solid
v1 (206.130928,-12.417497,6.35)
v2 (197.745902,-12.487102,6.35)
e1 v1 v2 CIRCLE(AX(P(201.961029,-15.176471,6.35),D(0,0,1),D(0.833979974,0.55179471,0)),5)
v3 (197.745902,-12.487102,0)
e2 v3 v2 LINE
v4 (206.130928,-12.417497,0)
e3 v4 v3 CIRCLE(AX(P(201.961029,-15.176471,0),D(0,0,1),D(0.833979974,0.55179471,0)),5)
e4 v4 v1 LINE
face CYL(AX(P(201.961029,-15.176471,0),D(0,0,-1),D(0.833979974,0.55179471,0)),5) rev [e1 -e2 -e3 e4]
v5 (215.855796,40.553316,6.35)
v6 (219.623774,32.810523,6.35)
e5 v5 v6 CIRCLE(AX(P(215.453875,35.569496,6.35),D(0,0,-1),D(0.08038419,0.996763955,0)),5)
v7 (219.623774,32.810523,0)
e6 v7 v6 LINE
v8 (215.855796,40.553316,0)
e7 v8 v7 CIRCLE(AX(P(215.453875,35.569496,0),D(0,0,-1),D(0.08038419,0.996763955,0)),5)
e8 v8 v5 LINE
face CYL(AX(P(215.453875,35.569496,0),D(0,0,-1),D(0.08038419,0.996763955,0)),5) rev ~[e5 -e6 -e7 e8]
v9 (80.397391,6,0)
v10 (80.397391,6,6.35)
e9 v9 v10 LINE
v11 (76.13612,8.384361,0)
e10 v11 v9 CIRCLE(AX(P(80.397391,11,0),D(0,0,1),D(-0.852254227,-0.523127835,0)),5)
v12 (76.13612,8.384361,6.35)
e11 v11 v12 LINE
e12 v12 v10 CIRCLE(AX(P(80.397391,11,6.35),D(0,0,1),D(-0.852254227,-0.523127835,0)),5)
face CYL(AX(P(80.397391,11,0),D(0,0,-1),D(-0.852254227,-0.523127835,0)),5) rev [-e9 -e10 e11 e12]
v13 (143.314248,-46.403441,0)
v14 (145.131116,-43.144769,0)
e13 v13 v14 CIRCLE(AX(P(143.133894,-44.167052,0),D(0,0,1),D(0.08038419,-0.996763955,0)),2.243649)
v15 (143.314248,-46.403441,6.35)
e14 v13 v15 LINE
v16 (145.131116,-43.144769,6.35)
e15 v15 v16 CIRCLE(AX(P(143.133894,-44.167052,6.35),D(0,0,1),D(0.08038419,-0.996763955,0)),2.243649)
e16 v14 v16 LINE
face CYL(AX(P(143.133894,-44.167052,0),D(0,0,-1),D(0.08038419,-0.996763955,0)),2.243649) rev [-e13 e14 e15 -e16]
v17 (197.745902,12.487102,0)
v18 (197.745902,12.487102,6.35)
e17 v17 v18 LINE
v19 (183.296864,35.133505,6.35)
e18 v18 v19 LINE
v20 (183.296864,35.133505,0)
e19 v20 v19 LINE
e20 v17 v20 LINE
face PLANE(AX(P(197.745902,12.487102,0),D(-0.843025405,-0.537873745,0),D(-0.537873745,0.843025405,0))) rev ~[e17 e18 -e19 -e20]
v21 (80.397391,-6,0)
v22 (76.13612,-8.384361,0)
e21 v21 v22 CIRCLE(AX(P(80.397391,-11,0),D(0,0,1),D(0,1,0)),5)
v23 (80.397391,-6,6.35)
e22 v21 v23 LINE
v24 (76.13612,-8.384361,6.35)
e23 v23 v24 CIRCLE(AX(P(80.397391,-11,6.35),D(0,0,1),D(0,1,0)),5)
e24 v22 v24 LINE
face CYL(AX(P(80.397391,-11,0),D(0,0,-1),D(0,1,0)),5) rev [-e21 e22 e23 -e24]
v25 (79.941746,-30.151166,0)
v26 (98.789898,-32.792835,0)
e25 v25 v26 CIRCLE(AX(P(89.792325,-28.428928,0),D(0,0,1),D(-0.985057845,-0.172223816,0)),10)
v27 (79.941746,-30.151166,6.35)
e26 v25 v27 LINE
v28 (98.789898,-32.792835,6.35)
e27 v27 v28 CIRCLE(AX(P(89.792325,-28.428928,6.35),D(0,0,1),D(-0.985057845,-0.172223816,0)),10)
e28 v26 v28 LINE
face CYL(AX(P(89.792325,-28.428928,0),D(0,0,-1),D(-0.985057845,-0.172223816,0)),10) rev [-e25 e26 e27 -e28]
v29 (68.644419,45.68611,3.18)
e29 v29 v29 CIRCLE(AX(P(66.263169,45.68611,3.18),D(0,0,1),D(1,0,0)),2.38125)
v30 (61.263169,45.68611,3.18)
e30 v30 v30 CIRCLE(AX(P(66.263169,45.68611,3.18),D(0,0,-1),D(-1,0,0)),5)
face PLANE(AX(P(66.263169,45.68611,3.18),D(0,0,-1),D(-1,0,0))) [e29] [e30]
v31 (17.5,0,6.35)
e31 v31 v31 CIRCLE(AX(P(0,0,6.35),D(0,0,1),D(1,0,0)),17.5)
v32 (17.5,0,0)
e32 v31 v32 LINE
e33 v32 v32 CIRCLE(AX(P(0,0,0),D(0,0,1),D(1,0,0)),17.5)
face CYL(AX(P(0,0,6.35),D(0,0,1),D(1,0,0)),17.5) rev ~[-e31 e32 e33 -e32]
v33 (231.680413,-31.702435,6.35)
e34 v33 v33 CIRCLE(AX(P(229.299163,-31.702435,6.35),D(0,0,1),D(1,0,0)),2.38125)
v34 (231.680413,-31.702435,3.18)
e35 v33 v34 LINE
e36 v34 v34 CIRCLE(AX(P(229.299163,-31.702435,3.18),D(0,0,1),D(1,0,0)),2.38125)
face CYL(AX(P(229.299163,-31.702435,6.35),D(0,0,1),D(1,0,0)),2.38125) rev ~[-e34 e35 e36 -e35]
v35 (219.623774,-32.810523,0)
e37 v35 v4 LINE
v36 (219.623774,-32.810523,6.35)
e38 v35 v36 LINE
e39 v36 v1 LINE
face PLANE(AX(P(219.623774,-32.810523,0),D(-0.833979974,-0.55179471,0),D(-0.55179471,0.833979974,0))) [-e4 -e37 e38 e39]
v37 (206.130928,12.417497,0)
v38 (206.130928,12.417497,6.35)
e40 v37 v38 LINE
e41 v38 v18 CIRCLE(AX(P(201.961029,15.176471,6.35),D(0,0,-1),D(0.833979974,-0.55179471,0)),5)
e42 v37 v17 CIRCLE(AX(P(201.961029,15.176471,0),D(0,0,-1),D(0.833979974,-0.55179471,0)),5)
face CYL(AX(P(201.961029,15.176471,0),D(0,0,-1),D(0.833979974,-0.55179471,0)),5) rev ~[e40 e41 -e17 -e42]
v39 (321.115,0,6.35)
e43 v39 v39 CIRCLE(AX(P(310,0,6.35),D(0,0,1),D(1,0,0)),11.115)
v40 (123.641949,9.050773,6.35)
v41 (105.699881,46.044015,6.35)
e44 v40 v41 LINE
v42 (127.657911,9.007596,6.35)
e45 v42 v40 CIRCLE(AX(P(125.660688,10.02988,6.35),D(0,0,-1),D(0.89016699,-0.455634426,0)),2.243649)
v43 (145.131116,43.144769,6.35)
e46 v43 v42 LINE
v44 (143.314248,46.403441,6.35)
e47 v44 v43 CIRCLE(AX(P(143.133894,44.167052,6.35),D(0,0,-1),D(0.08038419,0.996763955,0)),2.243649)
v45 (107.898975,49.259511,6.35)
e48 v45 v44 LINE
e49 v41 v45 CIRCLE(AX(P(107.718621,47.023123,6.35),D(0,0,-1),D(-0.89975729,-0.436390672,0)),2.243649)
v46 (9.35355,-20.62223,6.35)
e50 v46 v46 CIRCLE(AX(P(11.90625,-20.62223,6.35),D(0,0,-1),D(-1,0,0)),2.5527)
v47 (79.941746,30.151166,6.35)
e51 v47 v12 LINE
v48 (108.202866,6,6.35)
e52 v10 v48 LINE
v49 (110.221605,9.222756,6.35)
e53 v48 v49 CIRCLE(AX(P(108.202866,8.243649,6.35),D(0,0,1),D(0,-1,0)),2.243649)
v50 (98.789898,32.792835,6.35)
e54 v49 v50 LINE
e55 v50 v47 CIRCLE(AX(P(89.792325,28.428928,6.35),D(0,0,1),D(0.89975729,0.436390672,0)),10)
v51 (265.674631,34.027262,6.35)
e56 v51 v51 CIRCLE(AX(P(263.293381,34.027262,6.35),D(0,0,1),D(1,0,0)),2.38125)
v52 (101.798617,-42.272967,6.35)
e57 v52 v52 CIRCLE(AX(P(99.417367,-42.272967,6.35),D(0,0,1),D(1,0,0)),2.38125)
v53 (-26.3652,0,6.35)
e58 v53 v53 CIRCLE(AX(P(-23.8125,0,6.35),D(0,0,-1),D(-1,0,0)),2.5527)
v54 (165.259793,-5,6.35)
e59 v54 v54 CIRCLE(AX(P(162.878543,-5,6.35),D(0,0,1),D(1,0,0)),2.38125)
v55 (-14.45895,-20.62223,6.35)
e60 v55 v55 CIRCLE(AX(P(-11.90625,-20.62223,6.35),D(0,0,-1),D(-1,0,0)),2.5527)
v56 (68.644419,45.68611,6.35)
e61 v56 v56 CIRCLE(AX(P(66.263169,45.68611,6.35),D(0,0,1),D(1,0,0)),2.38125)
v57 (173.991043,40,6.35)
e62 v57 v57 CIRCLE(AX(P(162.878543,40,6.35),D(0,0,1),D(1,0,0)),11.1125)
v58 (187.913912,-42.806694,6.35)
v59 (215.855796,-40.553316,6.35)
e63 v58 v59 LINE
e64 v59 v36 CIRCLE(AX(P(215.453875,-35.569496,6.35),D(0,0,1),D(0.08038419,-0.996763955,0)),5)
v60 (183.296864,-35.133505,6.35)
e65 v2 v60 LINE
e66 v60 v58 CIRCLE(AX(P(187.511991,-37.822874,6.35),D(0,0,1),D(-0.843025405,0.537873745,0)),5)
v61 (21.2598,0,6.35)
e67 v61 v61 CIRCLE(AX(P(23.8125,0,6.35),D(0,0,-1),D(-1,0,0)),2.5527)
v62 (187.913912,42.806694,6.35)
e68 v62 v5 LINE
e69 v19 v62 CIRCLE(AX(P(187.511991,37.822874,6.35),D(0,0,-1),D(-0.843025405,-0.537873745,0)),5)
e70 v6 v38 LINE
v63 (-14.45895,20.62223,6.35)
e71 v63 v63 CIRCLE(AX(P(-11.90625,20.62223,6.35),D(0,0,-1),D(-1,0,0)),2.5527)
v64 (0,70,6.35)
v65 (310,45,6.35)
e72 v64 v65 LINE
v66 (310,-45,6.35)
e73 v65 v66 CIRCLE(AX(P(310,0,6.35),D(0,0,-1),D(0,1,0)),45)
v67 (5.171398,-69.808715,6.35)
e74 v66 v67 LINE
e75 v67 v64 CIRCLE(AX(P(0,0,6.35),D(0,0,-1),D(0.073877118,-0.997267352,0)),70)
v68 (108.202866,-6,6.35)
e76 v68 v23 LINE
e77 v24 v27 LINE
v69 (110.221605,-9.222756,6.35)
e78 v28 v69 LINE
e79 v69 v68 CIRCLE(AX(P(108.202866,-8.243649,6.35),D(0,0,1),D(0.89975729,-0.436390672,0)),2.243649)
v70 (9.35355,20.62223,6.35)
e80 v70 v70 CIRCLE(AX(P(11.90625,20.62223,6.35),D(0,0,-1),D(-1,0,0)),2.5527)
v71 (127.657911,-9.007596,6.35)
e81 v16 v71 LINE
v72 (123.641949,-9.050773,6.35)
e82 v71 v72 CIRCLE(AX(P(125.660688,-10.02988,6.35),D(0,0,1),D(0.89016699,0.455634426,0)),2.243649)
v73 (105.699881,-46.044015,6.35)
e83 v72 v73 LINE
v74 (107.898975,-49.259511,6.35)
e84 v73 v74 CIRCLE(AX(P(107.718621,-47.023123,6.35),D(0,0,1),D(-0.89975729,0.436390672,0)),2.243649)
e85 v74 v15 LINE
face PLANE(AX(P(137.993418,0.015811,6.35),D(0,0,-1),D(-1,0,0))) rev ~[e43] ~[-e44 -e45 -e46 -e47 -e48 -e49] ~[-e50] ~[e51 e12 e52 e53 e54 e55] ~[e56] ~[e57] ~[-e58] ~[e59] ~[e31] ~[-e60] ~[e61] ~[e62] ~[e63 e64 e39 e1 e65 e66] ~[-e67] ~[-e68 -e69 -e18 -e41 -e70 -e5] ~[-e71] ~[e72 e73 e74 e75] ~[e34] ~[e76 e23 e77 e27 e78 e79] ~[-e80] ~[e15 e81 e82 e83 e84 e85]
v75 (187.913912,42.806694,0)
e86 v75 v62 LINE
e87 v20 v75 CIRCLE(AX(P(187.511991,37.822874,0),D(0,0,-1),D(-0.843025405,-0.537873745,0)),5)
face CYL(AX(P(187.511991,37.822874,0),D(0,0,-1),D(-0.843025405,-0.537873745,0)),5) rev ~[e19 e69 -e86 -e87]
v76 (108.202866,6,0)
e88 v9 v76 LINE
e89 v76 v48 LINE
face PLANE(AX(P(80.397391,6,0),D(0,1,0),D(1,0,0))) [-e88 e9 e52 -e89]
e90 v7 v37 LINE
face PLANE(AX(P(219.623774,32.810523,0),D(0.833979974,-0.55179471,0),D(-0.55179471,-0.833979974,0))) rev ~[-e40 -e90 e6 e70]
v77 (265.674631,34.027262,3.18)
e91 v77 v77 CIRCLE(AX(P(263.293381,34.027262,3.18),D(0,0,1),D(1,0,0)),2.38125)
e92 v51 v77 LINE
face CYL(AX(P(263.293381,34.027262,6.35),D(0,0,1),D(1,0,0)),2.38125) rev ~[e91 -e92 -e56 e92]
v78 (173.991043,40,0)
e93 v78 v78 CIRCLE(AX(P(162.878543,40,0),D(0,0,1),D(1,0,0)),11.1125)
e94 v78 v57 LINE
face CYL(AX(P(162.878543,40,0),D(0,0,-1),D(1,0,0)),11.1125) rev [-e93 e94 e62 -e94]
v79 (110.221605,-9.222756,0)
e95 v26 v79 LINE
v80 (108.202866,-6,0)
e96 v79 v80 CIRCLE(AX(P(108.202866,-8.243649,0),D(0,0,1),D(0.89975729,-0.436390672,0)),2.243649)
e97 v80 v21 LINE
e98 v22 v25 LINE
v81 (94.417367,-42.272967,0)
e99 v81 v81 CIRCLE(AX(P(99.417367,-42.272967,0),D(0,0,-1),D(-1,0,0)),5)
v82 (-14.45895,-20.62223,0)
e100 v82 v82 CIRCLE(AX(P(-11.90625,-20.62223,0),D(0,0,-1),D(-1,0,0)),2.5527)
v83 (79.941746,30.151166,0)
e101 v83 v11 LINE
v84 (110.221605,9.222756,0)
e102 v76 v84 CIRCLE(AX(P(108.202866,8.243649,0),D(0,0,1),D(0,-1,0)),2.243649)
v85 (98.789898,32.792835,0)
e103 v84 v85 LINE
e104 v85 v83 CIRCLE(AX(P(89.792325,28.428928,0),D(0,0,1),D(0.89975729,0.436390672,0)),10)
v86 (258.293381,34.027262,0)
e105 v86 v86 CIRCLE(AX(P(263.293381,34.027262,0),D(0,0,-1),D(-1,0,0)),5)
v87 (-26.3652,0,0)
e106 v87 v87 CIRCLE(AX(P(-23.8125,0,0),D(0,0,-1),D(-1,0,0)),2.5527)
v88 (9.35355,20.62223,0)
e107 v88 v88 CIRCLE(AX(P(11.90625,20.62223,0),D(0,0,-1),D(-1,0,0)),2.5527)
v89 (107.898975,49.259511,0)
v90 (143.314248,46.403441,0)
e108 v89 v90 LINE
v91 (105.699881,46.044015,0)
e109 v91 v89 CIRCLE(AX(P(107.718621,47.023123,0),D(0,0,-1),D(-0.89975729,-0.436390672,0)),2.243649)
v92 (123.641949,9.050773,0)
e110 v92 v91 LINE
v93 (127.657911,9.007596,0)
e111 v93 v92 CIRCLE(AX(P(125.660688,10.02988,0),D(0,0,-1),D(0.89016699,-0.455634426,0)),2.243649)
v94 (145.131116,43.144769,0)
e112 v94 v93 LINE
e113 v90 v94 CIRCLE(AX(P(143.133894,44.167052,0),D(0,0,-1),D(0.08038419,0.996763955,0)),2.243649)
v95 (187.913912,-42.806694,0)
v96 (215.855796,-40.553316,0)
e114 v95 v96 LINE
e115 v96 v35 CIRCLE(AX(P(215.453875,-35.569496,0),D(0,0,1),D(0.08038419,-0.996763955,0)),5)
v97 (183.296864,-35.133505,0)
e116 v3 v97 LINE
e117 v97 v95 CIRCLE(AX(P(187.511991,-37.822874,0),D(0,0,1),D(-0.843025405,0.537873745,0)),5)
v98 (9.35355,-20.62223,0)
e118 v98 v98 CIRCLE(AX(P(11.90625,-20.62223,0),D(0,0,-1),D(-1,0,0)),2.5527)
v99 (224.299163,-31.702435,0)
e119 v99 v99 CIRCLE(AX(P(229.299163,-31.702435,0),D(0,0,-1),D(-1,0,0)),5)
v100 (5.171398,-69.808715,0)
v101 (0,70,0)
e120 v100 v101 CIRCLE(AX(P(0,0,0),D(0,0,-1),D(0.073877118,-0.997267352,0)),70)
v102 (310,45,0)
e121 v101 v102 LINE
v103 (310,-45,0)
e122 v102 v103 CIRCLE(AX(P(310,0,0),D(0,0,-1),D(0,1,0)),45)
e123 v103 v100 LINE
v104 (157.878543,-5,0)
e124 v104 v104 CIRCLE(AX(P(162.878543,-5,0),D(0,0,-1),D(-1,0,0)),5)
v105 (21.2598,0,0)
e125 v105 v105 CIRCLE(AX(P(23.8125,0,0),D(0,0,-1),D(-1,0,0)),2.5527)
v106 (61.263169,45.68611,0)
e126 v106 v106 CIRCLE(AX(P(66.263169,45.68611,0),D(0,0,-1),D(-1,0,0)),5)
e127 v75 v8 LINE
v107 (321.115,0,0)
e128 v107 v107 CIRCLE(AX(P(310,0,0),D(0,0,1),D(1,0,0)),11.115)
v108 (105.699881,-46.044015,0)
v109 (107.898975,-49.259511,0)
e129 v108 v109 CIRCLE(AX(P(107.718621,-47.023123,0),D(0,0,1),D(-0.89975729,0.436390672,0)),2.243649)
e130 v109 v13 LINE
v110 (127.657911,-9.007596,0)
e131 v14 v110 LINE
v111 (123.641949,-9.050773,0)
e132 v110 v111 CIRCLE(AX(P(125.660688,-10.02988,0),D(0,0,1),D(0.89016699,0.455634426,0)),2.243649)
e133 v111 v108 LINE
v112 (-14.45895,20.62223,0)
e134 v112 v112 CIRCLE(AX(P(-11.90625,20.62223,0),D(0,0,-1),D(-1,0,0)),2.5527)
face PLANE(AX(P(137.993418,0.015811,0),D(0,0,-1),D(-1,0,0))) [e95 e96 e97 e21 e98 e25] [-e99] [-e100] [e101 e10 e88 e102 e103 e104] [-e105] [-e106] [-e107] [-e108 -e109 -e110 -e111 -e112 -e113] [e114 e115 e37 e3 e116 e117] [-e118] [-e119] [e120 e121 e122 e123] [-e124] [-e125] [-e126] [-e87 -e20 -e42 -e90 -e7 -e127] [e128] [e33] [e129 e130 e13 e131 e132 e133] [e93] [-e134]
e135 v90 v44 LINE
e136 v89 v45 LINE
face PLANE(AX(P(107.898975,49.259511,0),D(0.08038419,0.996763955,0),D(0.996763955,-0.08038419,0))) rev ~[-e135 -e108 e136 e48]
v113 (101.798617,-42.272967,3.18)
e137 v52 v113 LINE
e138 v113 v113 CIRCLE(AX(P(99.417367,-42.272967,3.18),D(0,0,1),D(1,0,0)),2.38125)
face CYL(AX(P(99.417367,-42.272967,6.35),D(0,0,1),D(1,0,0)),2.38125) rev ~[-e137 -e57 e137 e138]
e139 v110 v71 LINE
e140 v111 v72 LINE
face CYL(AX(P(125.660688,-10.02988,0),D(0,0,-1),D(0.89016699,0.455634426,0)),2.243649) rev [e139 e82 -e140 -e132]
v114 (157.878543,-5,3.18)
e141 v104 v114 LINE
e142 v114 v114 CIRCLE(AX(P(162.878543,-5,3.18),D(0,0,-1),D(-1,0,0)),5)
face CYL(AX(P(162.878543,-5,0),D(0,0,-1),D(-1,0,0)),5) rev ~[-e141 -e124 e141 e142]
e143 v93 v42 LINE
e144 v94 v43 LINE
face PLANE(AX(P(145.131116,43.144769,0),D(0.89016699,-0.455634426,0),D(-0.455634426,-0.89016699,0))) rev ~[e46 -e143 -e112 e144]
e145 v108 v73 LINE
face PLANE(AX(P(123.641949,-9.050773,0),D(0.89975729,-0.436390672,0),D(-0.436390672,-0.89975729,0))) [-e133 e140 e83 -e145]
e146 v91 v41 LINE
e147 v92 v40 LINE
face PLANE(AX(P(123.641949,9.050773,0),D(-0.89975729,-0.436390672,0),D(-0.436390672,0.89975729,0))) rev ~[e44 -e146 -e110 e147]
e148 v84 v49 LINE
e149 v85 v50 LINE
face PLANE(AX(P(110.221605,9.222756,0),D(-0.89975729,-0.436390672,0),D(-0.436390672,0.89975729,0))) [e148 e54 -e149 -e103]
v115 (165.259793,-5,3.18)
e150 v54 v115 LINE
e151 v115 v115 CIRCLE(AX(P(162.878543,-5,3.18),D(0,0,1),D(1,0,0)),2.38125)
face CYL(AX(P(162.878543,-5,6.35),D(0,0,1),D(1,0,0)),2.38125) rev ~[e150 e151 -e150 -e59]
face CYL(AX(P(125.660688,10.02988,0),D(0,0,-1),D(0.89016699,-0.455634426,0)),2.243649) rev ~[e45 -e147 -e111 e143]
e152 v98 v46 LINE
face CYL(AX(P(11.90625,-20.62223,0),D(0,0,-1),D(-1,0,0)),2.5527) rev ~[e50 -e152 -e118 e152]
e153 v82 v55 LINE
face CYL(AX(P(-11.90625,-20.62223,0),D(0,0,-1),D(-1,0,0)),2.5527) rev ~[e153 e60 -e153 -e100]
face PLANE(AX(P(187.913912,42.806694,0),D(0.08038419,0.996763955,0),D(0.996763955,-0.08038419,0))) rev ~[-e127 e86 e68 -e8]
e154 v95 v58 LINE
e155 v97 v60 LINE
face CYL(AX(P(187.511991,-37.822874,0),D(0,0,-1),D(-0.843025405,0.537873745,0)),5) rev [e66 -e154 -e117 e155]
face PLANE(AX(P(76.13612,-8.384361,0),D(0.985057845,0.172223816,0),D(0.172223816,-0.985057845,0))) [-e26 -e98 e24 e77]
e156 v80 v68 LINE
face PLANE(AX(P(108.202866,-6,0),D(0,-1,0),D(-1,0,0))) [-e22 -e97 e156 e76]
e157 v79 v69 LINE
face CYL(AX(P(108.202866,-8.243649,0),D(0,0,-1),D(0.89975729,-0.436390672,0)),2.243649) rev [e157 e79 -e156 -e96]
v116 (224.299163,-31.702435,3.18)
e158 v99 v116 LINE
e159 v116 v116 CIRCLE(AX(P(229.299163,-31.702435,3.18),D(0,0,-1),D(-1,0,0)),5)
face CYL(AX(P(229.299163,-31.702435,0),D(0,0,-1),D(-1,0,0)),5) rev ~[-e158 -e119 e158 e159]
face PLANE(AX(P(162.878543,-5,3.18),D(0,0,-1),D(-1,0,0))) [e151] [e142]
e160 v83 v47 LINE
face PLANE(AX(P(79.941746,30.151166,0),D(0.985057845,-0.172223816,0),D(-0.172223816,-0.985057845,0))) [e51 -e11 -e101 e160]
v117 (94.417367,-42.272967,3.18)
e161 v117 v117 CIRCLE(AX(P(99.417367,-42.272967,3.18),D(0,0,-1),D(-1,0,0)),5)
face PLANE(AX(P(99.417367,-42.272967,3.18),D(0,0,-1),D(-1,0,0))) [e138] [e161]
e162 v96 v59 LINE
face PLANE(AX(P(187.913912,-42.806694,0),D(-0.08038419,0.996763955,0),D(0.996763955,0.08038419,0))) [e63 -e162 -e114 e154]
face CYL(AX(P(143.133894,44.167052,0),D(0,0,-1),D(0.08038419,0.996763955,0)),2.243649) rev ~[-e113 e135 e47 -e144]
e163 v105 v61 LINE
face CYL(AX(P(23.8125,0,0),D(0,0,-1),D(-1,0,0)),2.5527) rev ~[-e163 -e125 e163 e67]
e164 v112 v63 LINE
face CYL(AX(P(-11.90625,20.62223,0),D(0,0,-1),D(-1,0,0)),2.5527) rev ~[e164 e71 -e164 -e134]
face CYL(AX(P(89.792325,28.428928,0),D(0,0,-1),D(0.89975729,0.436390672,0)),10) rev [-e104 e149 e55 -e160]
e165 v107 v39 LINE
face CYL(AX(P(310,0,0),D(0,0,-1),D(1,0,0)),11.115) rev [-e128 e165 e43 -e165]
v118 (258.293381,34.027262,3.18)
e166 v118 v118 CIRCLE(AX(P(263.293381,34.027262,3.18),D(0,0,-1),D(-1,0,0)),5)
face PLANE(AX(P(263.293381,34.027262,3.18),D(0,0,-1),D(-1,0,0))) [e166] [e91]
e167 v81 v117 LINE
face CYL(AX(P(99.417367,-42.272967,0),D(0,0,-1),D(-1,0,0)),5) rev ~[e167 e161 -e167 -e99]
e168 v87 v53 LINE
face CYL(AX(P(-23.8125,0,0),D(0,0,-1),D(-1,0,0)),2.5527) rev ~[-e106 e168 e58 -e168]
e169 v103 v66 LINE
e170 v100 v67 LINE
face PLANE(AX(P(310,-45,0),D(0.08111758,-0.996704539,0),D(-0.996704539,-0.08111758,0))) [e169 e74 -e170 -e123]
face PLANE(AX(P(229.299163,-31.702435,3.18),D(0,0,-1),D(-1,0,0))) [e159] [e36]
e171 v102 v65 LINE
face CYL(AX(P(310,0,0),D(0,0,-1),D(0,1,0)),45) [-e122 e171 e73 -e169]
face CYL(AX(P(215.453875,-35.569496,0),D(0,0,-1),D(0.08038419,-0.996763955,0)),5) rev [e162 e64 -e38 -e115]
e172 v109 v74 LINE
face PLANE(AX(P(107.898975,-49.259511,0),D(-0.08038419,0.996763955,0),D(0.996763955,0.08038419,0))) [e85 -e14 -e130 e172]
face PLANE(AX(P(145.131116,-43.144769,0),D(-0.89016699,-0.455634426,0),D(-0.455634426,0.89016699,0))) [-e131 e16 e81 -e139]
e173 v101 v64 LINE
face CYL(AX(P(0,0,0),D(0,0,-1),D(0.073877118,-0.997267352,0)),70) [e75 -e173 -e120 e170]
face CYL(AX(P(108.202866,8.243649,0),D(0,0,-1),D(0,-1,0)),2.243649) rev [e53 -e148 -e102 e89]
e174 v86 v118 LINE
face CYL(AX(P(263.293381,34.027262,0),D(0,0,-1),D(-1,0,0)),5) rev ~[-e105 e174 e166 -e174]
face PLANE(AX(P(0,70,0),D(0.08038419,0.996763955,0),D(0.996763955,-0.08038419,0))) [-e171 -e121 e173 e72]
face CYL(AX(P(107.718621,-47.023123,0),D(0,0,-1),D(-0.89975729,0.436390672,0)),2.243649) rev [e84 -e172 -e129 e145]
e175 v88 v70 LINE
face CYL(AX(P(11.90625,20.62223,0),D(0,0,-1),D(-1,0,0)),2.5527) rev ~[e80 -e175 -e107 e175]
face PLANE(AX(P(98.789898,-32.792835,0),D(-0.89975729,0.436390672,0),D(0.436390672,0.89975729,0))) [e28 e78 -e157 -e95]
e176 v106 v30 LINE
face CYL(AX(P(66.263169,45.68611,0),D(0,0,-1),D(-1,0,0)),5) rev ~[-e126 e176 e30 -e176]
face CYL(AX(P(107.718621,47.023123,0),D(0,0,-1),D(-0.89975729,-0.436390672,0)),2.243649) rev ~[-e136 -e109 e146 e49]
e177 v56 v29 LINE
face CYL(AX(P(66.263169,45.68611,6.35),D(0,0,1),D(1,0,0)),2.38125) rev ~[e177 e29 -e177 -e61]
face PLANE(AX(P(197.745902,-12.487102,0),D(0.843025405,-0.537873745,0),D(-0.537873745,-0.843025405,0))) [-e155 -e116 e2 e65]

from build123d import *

# Parameters (mm, degrees)
SKETCH1_R              = 14.29385
SKETCH1_R_2            = 11.115
SKETCH1_R_3            = 11.1125
BOSS_EXTRUDE1_DEPTH    = 6.35
CROQUIS1_R             = 2.38125
CORTAR_EXTRUIR1_DEPTH  = 50
CROQUIS6_R             = 2.38125
CORTAR_EXTRUIR6_DEPTH  = 10
CROQUIS8_R             = 17.5
CORTAR_EXTRUIR8_DEPTH  = 10
CROQUIS9_R             = 2.5527
CORTAR_EXTRUIR9_DEPTH  = 10
CROQUIS5_R             = 2.38125
CORTAR_EXTRUIR5_DEPTH  = 10
CROQUIS10_R            = 5
CORTAR_EXTRUIR10_DEPTH = 3.18


with BuildPart() as part:
    # Sketch1 → Boss-Extrude1 (new body)
    with BuildSketch(Plane.XY):
        with BuildLine():
            Line((0, 70), (310, 45))
            ThreePointArc((310, 45), (355, 0), (310, -45))
            Line((310, -45), (5.171398252, -69.808714643))
            ThreePointArc((5.171398252, -69.808714643), (-69.952162315, -2.587467389), (0, 70))
        make_face()
        Circle(SKETCH1_R, mode=Mode.SUBTRACT)
        with Locations((310, 0)):
            Circle(SKETCH1_R_2, mode=Mode.SUBTRACT)
        with Locations((162.878542763, 40)):
            Circle(SKETCH1_R_3, mode=Mode.SUBTRACT)
        with BuildLine():
            Line((107.898974887, 49.259511156), (143.314248041, 46.40344074))
            ThreePointArc((143.314248041, 46.40344074), (145.093535791, 45.259647961), (145.131116366, 43.144768645))
            Line((145.131116366, 43.144768645), (127.657910713, 9.007596386))
            ThreePointArc((127.657910713, 9.007596386), (125.636568061, 7.786360797), (123.64194899, 9.050772613))
            Line((123.64194899, 9.050772613), (105.699881489, 46.044015288))
            ThreePointArc((105.699881489, 46.044015288), (105.866657482, 48.289689684), (107.898974887, 49.259511156))
        make_face(mode=Mode.SUBTRACT)
        with BuildLine():
            Line((80.397390769, 6), (108.202865744, 6))
            ThreePointArc((108.202865744, 6), (110.104277592, 7.052601687), (110.221605239, 9.222756416))
            Line((110.221605239, 9.222756416), (98.78989754, 32.792834786))
            ThreePointArc((98.78989754, 32.792834786), (88.404337676, 38.332134222), (79.941746192, 30.151166228))
            Line((79.941746192, 30.151166228), (76.136119631, 8.384360826))
            ThreePointArc((76.136119631, 8.384360826), (77.955894903, 6.636618521), (80.397390769, 6))
        make_face(mode=Mode.SUBTRACT)
        with BuildLine():
            Line((219.623774494, 32.810522613), (206.130928429, 12.417497436))
            ThreePointArc((206.130928429, 12.417497436), (201.919524559, 10.176643248), (197.745901529, 12.48710226))
            Line((197.745901529, 12.48710226), (183.296864227, 35.133505128))
            ThreePointArc((183.296864227, 35.133505128), (183.227765467, 40.400743015), (187.913912204, 42.80669363))
            Line((187.913912204, 42.80669363), (215.855795571, 40.553315939))
            ThreePointArc((215.855795571, 40.553315939), (219.949772588, 37.757395035), (219.623774494, 32.810522613))
        make_face(mode=Mode.SUBTRACT)
        with BuildLine():
            Line((98.78989754, -32.792834786), (110.221605239, -9.222756416))
            ThreePointArc((110.221605239, -9.222756416), (110.104277592, -7.052601687), (108.202865744, -6))
            Line((108.202865744, -6), (80.397390769, -6))
            ThreePointArc((80.397390769, -6), (77.955894903, -6.636618521), (76.136119631, -8.384360826))
            Line((76.136119631, -8.384360826), (79.941746192, -30.151166228))
            ThreePointArc((79.941746192, -30.151166228), (88.404337676, -38.332134222), (98.78989754, -32.792834786))
        make_face(mode=Mode.SUBTRACT)
        with BuildLine():
            Line((187.913912204, -42.80669363), (215.855795571, -40.553315939))
            ThreePointArc((215.855795571, -40.553315939), (219.949772588, -37.757395035), (219.623774494, -32.810522613))
            Line((219.623774494, -32.810522613), (206.130928429, -12.417497436))
            ThreePointArc((206.130928429, -12.417497436), (201.919524559, -10.176643248), (197.745901529, -12.48710226))
            Line((197.745901529, -12.48710226), (183.296864227, -35.133505128))
            ThreePointArc((183.296864227, -35.133505128), (183.227765467, -40.400743015), (187.913912204, -42.80669363))
        make_face(mode=Mode.SUBTRACT)
        with BuildLine():
            Line((123.64194899, -9.050772613), (105.699881489, -46.044015288))
            ThreePointArc((105.699881489, -46.044015288), (105.866657482, -48.289689684), (107.898974887, -49.259511156))
            Line((107.898974887, -49.259511156), (143.314248041, -46.40344074))
            ThreePointArc((143.314248041, -46.40344074), (145.093535791, -45.259647961), (145.131116366, -43.144768645))
            Line((145.131116366, -43.144768645), (127.657910713, -9.007596386))
            ThreePointArc((127.657910713, -9.007596386), (125.636568061, -7.786360797), (123.64194899, -9.050772613))
        make_face(mode=Mode.SUBTRACT)
    extrude(amount=BOSS_EXTRUDE1_DEPTH)

    # Croquis1 → Cortar-Extruir1 (cut)
    with BuildSketch(Plane.XY.offset(6.35)):
        with Locations((99.417366651, -42.272966779)):
            Circle(CROQUIS1_R)
        with Locations((229.299162877, -31.702435007)):
            Circle(CROQUIS1_R)
    extrude(amount=-CORTAR_EXTRUIR1_DEPTH, mode=Mode.SUBTRACT)

    # Croquis6 → Cortar-Extruir6 (cut)
    with BuildSketch(Plane.XY.offset(6.35)):
        with Locations((66.263169386, 45.68611009)):
            Circle(CROQUIS6_R)
        with Locations((263.293381054, 34.027262471)):
            Circle(CROQUIS6_R)
    extrude(amount=-CORTAR_EXTRUIR6_DEPTH, mode=Mode.SUBTRACT)

    # Croquis8 → Cortar-Extruir8 (cut)
    with BuildSketch(Plane.XY.offset(6.35)):
        Circle(CROQUIS8_R)
    extrude(amount=-CORTAR_EXTRUIR8_DEPTH, mode=Mode.SUBTRACT)

    # Croquis9 → Cortar-Extruir9 (cut)
    with BuildSketch(Plane(origin=(0, 0, 0), x_dir=(-1, 0, 0), z_dir=(0, 0, -1))):
        with Locations((23.8125, 0)):
            Circle(CROQUIS9_R)
        with Locations((11.90625, -20.622229928)):
            Circle(CROQUIS9_R)
        with Locations((-11.90625, -20.622229928)):
            Circle(CROQUIS9_R)
        with Locations((-23.8125, 0)):
            Circle(CROQUIS9_R)
        with Locations((-11.90625, 20.622229928)):
            Circle(CROQUIS9_R)
        with Locations((11.90625, 20.622229928)):
            Circle(CROQUIS9_R)
    extrude(amount=-CORTAR_EXTRUIR9_DEPTH, mode=Mode.SUBTRACT)

    # Croquis5 → Cortar-Extruir5 (cut)
    with BuildSketch(Plane.XY.offset(6.35)):
        with Locations((162.878542763, -5)):
            Circle(CROQUIS5_R)
    extrude(amount=-CORTAR_EXTRUIR5_DEPTH, mode=Mode.SUBTRACT)

    # Croquis10 → Cortar-Extruir10 (cut)
    with BuildSketch(Plane(origin=(0, 0, 0), x_dir=(-1, 0, 0), z_dir=(0, 0, -1))):
        with Locations((-263.293381054, 34.027262471)):
            Circle(CROQUIS10_R)
        with Locations((-66.263169386, 45.68611009)):
            Circle(CROQUIS10_R)
        with Locations((-229.299162877, -31.702435007)):
            Circle(CROQUIS10_R)
        with Locations((-99.417366651, -42.272966779)):
            Circle(CROQUIS10_R)
        with Locations((-162.878542763, -5)):
            Circle(CROQUIS10_R)
    extrude(amount=-CORTAR_EXTRUIR10_DEPTH, mode=Mode.SUBTRACT)


solid = part.part
